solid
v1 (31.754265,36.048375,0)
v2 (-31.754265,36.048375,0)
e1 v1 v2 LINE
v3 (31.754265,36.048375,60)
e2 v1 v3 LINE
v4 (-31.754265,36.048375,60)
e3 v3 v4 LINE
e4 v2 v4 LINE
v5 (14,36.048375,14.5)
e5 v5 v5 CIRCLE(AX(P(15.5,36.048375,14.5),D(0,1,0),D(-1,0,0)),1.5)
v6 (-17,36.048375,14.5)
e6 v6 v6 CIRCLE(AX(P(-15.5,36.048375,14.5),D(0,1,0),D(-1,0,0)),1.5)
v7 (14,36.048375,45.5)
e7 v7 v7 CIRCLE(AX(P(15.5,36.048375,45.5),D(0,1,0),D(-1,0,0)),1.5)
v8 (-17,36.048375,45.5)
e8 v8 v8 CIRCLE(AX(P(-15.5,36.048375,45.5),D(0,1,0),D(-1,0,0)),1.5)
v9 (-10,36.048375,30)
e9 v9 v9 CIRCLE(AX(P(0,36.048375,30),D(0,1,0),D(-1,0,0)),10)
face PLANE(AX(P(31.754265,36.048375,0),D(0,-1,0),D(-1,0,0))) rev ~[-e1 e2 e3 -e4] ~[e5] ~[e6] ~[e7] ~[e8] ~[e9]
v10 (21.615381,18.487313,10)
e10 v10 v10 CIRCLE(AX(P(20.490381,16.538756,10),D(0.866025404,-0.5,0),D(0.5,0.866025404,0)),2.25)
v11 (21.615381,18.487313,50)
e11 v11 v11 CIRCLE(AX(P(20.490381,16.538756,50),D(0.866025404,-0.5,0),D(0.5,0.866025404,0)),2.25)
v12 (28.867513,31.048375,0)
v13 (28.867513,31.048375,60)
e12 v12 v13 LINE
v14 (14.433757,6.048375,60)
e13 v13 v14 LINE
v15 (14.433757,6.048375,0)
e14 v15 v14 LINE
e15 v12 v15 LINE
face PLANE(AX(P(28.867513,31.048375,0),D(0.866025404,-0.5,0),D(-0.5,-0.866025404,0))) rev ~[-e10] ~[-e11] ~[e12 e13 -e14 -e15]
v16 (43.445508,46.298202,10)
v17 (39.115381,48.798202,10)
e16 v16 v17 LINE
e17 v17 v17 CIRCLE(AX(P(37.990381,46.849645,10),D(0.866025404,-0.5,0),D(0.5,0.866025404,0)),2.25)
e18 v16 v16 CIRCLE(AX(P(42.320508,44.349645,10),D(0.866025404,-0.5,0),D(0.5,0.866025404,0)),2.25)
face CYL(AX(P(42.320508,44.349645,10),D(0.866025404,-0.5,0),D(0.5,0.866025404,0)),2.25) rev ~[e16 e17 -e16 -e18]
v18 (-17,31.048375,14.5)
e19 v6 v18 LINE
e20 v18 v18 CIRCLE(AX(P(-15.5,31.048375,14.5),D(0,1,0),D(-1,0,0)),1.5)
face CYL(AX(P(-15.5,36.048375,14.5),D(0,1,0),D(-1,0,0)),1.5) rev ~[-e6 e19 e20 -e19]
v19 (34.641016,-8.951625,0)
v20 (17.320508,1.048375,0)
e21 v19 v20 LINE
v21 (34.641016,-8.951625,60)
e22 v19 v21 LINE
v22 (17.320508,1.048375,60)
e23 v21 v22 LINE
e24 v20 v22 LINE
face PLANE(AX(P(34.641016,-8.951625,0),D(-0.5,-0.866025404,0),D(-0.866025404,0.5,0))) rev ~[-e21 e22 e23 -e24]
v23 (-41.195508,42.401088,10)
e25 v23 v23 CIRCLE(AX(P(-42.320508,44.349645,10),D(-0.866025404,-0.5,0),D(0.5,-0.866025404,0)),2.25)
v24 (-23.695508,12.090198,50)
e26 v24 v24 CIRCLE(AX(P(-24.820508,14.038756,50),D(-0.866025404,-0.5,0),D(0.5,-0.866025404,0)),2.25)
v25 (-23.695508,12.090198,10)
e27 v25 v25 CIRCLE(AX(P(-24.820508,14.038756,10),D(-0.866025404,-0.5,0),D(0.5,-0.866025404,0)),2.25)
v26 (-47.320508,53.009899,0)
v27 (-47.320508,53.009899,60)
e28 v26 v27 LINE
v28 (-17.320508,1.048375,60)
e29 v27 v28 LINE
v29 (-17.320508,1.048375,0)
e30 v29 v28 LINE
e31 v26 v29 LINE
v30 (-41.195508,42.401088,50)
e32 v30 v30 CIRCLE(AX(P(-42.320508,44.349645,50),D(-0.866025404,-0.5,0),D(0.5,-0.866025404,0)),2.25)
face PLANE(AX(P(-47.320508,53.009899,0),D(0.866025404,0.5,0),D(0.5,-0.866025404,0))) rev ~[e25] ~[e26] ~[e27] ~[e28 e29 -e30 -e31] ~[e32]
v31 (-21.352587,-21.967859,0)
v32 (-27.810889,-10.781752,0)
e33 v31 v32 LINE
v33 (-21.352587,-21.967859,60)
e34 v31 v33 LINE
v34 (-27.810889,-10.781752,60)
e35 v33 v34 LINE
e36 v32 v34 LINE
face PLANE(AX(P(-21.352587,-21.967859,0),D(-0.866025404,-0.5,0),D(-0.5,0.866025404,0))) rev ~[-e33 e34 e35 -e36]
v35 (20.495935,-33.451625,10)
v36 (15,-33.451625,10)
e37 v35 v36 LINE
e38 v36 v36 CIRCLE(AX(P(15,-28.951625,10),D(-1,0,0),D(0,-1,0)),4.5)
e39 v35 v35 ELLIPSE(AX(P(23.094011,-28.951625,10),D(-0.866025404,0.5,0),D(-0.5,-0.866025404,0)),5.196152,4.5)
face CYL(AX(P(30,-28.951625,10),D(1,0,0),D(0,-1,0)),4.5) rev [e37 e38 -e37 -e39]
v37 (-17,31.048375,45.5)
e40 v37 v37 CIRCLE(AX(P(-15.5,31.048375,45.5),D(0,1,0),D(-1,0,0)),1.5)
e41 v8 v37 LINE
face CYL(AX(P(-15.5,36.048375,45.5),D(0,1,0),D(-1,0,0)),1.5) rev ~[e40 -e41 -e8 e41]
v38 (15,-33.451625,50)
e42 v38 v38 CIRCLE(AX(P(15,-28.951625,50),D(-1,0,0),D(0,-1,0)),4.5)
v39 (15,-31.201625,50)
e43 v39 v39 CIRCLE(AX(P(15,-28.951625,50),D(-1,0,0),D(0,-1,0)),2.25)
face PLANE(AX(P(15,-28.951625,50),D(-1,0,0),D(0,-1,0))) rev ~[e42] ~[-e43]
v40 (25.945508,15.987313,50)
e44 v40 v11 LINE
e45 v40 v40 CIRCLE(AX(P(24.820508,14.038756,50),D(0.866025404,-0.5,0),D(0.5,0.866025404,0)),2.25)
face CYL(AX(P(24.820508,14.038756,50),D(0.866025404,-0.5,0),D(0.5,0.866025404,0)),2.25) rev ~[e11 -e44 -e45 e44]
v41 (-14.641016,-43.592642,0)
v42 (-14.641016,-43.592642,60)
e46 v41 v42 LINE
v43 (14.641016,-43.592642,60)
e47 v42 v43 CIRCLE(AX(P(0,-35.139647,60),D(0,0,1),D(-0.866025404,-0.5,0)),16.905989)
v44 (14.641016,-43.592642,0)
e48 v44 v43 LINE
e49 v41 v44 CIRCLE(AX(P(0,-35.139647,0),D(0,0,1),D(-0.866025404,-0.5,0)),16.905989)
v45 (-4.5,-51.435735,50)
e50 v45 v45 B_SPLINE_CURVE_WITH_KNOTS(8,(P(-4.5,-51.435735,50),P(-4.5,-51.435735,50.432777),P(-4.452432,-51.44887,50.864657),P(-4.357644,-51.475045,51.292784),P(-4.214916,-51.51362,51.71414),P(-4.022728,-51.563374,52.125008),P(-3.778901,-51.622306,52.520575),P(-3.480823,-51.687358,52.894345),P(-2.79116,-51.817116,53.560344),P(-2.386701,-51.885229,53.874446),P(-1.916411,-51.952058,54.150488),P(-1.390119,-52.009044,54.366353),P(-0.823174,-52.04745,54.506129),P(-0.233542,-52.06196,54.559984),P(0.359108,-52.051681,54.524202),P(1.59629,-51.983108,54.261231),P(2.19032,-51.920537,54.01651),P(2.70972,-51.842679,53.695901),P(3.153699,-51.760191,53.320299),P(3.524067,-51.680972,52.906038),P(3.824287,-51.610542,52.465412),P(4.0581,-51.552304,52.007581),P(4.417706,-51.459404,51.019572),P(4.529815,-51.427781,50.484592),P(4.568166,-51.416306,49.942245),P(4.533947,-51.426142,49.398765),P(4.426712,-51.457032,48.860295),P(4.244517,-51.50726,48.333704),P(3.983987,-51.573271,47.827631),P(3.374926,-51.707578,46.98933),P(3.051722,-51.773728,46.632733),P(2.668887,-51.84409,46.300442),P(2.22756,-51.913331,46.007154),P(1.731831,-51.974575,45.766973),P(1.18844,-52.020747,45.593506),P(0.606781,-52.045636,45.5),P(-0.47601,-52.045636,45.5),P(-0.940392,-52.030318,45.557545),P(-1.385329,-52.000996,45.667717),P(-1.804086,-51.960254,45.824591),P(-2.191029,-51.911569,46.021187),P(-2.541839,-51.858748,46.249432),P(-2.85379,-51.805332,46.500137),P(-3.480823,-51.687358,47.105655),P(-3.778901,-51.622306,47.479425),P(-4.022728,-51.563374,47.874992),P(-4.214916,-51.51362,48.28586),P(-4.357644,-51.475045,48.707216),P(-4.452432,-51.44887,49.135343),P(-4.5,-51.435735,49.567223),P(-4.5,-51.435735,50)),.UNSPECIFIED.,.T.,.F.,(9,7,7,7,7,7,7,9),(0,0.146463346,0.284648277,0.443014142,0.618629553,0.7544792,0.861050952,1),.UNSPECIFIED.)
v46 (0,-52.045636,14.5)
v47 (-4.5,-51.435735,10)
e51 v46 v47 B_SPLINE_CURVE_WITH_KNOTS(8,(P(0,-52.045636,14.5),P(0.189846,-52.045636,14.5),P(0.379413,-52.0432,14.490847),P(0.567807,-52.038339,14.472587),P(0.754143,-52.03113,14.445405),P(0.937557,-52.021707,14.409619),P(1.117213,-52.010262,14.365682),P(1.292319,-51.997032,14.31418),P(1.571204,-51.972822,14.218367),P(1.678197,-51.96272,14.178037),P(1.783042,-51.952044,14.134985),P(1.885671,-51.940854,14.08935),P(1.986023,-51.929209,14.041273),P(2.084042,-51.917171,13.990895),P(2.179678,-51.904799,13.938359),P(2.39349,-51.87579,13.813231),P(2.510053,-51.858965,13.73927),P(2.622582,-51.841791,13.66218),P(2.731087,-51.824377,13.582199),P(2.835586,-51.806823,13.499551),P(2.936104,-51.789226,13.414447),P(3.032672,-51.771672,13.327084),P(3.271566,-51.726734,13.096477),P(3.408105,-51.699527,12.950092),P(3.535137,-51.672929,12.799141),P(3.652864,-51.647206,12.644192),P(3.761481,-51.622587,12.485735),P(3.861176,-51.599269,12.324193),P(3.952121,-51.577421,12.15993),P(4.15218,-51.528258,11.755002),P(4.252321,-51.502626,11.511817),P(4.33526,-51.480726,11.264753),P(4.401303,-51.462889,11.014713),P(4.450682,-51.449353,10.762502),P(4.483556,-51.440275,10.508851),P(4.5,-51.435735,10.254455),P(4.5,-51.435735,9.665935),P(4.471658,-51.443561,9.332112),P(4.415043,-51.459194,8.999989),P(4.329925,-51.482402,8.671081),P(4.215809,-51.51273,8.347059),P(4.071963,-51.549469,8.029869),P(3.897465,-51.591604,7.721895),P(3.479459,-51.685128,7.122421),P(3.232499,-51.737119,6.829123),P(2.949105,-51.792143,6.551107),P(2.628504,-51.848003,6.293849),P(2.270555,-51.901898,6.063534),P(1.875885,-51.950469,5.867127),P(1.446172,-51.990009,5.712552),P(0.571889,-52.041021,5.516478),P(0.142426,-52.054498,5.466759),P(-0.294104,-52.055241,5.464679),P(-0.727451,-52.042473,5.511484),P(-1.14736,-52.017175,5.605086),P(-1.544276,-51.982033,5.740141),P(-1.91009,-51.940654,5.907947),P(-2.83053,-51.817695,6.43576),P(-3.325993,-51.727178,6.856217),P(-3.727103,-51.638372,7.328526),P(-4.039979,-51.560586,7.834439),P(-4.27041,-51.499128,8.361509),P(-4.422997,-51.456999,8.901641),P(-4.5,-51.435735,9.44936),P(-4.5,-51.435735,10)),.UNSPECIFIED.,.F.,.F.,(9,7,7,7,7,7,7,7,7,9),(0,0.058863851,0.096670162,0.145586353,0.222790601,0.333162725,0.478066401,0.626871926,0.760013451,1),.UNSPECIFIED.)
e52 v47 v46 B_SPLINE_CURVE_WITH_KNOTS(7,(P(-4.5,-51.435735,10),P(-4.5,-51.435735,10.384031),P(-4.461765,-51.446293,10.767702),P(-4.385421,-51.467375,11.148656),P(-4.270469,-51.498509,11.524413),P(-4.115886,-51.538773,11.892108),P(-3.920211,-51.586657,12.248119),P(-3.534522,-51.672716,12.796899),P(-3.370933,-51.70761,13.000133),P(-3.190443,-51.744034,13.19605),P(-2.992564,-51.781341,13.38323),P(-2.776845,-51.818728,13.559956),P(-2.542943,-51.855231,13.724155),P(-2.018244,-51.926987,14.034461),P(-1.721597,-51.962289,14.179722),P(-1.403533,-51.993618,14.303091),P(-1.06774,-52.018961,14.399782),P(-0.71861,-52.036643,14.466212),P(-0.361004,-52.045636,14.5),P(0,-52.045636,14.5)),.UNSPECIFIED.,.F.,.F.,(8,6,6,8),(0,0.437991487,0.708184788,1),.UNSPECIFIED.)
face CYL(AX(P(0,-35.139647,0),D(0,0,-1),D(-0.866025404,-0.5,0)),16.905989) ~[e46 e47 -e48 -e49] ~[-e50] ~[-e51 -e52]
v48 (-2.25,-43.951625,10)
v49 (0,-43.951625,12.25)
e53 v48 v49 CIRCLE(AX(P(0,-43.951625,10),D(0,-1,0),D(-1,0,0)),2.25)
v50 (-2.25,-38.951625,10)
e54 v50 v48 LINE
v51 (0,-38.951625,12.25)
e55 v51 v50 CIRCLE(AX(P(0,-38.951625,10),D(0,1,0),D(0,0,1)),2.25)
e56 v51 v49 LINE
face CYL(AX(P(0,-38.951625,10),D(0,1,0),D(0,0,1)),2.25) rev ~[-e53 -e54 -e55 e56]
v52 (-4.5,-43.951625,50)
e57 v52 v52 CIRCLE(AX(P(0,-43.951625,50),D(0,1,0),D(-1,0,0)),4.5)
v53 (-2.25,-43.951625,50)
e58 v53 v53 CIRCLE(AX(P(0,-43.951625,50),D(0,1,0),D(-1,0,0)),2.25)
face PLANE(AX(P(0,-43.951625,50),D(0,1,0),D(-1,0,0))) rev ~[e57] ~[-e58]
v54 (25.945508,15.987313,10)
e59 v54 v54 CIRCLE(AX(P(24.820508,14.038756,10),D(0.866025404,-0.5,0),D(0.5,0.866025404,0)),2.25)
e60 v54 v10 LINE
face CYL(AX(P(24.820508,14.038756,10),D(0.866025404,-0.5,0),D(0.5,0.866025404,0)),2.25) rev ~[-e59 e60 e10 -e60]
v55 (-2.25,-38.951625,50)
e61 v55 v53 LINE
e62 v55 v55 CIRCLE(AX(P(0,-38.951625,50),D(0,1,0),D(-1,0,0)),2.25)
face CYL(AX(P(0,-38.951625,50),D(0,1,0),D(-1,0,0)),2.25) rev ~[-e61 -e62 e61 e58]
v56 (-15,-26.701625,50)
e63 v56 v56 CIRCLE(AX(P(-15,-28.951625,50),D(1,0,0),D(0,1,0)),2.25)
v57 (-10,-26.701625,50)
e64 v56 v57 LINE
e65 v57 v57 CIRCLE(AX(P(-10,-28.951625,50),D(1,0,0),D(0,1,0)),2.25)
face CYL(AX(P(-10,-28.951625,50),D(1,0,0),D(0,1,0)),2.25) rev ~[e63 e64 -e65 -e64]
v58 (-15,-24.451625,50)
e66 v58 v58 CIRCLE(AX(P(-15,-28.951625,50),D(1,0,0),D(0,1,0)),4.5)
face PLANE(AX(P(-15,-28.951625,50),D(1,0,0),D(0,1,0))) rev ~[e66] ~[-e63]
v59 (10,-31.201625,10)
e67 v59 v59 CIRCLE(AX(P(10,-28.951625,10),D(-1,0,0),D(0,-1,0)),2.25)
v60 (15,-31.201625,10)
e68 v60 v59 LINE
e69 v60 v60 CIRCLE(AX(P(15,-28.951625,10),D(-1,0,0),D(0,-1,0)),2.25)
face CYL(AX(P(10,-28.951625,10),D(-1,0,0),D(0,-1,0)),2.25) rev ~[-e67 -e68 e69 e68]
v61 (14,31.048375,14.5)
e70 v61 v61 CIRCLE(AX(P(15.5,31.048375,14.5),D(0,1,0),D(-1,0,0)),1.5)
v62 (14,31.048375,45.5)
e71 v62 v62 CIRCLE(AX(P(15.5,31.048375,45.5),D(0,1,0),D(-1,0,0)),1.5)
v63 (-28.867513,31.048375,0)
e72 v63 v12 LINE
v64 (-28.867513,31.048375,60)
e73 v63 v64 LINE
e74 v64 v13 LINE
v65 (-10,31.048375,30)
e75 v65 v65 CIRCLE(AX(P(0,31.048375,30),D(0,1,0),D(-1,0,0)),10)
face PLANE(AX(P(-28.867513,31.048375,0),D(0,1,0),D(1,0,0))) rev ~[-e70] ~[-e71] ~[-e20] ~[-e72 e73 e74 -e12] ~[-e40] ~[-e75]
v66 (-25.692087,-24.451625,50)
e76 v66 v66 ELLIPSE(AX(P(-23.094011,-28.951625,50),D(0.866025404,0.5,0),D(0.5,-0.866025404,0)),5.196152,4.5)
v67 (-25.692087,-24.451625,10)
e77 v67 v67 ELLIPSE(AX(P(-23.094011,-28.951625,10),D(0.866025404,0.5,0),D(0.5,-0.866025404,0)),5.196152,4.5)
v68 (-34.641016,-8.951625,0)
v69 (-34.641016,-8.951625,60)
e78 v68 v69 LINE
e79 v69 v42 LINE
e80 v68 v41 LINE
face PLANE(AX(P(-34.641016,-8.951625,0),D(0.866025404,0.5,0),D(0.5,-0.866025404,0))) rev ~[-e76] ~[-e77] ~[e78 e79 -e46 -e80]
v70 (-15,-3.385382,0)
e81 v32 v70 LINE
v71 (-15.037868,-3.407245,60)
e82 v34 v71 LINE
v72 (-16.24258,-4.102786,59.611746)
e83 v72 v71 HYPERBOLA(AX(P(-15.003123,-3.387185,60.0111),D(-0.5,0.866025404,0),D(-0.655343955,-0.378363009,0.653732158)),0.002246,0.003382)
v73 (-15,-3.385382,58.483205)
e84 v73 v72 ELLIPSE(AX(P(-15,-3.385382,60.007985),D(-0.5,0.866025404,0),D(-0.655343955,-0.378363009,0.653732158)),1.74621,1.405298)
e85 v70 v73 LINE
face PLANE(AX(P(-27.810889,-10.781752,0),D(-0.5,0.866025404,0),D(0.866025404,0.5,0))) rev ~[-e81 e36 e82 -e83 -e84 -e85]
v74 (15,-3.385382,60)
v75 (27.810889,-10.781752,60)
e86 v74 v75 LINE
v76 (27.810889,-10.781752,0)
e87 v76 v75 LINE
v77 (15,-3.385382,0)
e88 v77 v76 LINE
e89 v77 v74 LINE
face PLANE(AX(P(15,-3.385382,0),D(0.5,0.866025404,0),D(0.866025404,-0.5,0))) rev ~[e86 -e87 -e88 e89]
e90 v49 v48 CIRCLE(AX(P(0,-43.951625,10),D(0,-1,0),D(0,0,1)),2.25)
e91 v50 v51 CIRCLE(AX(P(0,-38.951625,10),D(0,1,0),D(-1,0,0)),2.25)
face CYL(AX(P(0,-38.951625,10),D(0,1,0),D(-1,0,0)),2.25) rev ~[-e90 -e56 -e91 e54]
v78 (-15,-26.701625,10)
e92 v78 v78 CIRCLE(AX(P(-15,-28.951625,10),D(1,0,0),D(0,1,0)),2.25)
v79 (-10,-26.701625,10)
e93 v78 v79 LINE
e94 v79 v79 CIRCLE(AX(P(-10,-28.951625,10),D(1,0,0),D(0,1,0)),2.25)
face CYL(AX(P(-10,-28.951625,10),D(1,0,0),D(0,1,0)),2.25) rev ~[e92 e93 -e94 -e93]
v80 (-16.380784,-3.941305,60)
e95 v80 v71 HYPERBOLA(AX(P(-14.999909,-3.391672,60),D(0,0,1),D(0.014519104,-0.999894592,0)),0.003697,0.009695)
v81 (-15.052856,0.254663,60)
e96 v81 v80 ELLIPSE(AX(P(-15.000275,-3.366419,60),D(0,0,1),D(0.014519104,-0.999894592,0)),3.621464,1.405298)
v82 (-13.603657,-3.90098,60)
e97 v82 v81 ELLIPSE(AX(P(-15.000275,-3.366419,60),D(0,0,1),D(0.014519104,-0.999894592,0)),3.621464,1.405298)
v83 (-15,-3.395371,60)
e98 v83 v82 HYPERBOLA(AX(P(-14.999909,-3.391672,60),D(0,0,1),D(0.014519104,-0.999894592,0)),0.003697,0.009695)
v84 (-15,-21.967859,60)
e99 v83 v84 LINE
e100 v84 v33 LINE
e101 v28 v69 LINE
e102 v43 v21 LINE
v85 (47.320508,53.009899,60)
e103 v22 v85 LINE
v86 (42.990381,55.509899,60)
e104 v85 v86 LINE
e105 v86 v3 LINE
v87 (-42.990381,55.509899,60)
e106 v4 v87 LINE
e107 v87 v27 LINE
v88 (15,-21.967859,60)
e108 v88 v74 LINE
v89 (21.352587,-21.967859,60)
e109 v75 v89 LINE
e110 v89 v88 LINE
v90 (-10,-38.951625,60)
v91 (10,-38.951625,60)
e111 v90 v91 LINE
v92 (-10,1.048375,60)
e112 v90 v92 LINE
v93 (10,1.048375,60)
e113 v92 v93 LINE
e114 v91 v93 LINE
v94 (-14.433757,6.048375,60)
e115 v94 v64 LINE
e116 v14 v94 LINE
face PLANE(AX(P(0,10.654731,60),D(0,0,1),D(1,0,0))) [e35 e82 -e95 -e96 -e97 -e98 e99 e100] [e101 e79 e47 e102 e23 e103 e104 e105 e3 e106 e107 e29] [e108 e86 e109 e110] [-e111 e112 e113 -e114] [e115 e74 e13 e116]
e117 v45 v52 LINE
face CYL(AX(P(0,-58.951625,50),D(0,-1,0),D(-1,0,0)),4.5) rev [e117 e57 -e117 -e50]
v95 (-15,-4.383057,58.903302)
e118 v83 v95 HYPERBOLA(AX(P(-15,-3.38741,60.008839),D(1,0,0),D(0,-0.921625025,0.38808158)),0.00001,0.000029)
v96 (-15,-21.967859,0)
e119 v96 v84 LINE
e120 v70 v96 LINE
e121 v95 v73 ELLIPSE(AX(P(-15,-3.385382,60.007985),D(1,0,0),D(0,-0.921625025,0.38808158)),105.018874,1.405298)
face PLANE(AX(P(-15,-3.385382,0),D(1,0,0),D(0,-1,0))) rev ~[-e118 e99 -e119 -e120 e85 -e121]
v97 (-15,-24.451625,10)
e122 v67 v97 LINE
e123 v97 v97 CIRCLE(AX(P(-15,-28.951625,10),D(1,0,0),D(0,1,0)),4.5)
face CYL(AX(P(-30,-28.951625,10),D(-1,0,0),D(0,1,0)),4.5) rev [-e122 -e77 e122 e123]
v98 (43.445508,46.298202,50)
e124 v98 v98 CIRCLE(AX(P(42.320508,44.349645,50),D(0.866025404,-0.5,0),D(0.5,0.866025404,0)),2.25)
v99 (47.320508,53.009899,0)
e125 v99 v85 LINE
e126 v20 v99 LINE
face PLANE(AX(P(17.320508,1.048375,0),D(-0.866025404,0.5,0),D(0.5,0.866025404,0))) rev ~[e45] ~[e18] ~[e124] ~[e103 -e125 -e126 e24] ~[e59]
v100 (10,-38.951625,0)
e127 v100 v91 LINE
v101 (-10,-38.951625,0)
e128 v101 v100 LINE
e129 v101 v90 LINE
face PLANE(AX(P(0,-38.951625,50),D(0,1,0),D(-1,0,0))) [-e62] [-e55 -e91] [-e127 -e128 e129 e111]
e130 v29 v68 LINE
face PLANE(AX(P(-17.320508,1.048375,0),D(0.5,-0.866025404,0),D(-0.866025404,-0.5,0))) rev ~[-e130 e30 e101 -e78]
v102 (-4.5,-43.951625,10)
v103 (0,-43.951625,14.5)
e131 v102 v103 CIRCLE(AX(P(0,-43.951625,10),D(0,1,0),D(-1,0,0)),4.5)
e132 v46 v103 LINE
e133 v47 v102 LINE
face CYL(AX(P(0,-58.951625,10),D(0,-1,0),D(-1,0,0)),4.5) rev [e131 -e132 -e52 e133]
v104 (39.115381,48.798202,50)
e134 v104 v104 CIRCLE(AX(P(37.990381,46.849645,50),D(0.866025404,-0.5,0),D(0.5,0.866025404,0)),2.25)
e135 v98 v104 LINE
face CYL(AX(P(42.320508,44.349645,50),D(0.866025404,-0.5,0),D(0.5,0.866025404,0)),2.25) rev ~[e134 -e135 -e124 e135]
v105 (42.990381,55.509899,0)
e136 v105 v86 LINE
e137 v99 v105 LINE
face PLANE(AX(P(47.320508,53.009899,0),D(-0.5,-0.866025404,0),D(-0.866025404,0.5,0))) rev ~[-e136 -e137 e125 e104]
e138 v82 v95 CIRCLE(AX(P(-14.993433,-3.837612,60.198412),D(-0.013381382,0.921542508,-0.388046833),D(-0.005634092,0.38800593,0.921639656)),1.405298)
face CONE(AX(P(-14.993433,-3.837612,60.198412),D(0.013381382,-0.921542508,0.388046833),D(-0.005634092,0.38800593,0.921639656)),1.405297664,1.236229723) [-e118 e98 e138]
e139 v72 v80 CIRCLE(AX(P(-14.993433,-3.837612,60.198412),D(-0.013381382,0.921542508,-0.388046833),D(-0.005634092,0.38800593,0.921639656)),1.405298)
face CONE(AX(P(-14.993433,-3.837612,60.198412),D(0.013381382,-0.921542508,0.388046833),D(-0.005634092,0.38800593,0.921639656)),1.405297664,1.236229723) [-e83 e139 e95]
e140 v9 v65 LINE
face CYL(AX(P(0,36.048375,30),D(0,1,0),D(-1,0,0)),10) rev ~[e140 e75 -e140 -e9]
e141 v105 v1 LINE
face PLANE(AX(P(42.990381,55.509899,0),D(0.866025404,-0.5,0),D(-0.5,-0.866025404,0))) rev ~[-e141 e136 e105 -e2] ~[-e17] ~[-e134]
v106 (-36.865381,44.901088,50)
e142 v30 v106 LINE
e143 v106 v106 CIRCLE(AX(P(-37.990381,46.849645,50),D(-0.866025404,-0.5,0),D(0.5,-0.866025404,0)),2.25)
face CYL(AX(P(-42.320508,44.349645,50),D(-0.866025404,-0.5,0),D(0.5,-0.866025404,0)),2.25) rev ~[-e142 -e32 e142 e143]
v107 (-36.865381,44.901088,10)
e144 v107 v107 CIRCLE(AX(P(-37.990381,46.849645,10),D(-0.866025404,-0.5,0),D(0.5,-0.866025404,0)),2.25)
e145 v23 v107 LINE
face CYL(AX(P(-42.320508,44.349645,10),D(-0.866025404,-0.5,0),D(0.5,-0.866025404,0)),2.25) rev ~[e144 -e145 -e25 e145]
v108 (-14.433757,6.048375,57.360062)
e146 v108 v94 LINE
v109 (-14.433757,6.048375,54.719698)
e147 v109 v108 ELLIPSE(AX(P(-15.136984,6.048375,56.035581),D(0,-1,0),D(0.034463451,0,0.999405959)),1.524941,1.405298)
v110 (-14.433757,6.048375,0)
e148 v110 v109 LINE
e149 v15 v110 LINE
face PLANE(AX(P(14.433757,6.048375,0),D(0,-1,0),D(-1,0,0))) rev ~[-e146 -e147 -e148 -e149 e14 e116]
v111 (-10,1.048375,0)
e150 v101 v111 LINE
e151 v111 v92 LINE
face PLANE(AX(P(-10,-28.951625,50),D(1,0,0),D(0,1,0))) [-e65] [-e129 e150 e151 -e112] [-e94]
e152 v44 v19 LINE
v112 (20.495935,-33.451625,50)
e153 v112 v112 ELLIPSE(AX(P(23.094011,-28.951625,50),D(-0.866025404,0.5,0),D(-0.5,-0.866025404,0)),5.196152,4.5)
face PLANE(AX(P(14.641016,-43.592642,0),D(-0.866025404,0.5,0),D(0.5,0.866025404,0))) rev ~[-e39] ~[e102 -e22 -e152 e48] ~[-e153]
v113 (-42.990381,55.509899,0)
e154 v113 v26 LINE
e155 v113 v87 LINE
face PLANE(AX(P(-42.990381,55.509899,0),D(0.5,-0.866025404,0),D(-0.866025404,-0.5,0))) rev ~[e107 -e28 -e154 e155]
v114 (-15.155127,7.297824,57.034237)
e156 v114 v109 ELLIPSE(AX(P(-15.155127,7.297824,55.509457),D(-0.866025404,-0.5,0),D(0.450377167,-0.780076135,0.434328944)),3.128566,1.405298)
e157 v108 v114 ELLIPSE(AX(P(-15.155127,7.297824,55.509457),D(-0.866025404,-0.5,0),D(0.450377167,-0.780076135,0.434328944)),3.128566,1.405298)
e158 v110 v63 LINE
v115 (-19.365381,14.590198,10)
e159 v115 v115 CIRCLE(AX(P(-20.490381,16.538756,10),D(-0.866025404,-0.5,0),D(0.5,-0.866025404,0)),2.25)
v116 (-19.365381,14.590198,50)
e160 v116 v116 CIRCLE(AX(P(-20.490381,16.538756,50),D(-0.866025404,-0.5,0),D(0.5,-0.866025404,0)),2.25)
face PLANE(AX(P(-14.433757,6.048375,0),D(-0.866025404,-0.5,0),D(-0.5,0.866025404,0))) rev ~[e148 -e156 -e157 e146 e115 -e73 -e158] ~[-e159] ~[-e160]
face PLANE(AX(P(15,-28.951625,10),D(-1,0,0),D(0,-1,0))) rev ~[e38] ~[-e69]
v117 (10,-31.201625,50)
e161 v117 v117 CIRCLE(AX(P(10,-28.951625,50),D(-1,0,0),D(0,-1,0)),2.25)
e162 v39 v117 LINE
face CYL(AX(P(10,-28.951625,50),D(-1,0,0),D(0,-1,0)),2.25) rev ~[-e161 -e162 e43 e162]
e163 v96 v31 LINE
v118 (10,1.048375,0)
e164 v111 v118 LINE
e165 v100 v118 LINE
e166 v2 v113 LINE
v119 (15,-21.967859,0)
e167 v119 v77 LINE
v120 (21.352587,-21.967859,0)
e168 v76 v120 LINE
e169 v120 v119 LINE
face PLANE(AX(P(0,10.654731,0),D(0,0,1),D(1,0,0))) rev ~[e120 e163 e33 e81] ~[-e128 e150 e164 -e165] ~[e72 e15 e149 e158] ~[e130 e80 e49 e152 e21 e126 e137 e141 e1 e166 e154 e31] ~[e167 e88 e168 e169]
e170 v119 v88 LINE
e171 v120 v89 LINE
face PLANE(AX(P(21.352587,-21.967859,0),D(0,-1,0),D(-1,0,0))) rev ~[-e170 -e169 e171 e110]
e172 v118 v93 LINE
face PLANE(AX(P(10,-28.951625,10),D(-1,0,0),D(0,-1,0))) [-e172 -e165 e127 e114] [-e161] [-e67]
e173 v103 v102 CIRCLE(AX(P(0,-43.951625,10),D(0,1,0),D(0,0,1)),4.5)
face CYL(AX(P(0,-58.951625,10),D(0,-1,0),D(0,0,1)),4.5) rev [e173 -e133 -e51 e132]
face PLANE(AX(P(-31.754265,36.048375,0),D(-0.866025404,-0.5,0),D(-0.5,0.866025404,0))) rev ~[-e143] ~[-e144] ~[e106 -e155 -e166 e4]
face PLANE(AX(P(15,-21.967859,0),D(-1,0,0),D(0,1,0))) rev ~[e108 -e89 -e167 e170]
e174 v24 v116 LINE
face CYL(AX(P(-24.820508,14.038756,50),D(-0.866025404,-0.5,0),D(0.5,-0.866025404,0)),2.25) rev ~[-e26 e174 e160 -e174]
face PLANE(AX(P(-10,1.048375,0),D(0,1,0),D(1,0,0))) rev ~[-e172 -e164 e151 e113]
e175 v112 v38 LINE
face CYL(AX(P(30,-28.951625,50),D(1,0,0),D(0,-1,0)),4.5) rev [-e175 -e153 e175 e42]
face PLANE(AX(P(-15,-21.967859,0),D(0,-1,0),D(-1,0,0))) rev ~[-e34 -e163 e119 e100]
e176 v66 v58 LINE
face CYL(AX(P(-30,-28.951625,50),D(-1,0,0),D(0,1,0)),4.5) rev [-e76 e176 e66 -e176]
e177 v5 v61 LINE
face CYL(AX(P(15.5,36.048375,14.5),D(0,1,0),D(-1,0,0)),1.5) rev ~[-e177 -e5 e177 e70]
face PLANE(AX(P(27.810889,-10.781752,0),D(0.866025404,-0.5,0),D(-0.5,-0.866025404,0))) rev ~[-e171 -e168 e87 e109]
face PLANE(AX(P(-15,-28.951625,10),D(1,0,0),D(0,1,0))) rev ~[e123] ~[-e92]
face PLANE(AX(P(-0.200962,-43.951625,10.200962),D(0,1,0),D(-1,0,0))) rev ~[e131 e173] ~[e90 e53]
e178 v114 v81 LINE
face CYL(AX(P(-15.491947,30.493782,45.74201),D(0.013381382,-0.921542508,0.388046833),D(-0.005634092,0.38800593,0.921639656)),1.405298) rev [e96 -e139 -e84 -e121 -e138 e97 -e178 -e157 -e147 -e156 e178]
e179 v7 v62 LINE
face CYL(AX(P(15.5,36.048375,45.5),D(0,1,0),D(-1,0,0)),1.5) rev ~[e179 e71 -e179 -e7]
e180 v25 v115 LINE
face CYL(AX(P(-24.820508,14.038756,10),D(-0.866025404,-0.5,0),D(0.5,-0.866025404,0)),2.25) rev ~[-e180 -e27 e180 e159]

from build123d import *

# Parameters (mm, degrees)
F0_W      = 20
F0_H      = 40
F1_DEPTH  = 60
F2_R      = 1.5
F2_R_2    = 10
F3_DEPTH  = 6
F4_R      = 2.25
F5_DEPTH  = 6
F6_R      = 2.25
F7_DEPTH  = 6
F9_R      = 4.5
F9_R_2    = 2.25
F11_DEPTH = 20
F10_R     = 4.5
F10_R_2   = 2.25
F12_DEPTH = 20
F8_R      = 4.5
F8_R_2    = 2.25
F13_DEPTH = 20
F14_DEPTH = 25
F15_DEPTH = 25
F16_DEPTH = 25
F17_DEPTH = 15
F18_DEPTH = 15
F19_DEPTH = 15


with BuildPart() as f1:
    # F0 (on Top) → F1 (new body)
    with BuildSketch(Plane.XY):
        with BuildLine():
            Line((47.3205080757, 53.0098987629), (42.9903810568, 55.5098987629))
            Line((42.9903810568, 55.5098987629), (31.7542648054, 36.0483745358))
            Line((31.7542648054, 36.0483745358), (-31.7542648054, 36.0483745358))
            Line((-31.7542648054, 36.0483745358), (-42.9903810568, 55.5098987629))
            Line((-42.9903810568, 55.5098987629), (-47.3205080757, 53.0098987629))
            Line((-47.3205080757, 53.0098987629), (-17.3205080757, 1.0483745358))
            Line((-17.3205080757, 1.0483745358), (-34.6410161514, -8.9516254642))
            Line((-34.6410161514, -8.9516254642), (-14.6410161514, -43.5926416156))
            ThreePointArc((-14.6410161514, -43.5926416156), (0, -52.0456362318), (14.6410161514, -43.5926416156))
            Line((14.6410161514, -43.5926416156), (34.6410161514, -8.9516254642))
            Line((34.6410161514, -8.9516254642), (17.3205080757, 1.0483745358))
            Line((17.3205080757, 1.0483745358), (47.3205080757, 53.0098987629))
        make_face()
        Polygon((-15, -3.3853821939), (-15, -9.7067520427), (-15, -21.9678594557), (-21.3525872607, -21.9678594557), (-27.8108891325, -10.7817524831), align=None, mode=Mode.SUBTRACT)
        with Locations((0, -18.9516254642)):
            Rectangle(F0_W, F0_H, mode=Mode.SUBTRACT)
        Polygon((15, -21.9678594557), (15, -4.4697315388), (15, -3.3853821939), (27.8108891325, -10.7817524831), (21.3525872607, -21.9678594557), align=None, mode=Mode.SUBTRACT)
        Polygon((28.8675134595, 31.0483745358), (14.4337567297, 6.0483745358), (-14.4337567297, 6.0483745358), (-28.8675134595, 31.0483745358), align=None, mode=Mode.SUBTRACT)
    extrude(amount=F1_DEPTH)

    # F2 (on face) → F3 (cut)
    with BuildSketch(Plane(origin=(0, 36.0483745358, 0), x_dir=(-1, 0, 0), z_dir=(0, 1, 0))):
        with Locations((-15.5, 45.5)):
            Circle(F2_R)
        with Locations((15.5, 45.5)):
            Circle(F2_R)
        with Locations((15.5, 14.5)):
            Circle(F2_R)
        with Locations((-15.5, 14.5)):
            Circle(F2_R)
        with Locations((0, 30)):
            Circle(F2_R_2)
    extrude(amount=-F3_DEPTH, mode=Mode.SUBTRACT)

    # F4 (on face) → F5 (cut)
    with BuildSketch(Plane(origin=(-12.5364215664, -7.237906366, 0), x_dir=(0.5, -0.8660254038, 0), z_dir=(-0.8660254038, -0.5, 0))):
        with Locations((-24.5681730185, 50)):
            Circle(F4_R)
        with Locations((-59.5681730185, 50)):
            Circle(F4_R)
        with Locations((-59.5681730185, 10)):
            Circle(F4_R)
        with Locations((-24.5681730185, 10)):
            Circle(F4_R)
    extrude(amount=-F5_DEPTH, mode=Mode.SUBTRACT)

    # F6 (on face) → F7 (cut)
    with BuildSketch(Plane(origin=(12.5364215664, -7.237906366, 0), x_dir=(0.5, 0.8660254038, 0), z_dir=(0.8660254038, -0.5, 0))):
        with Locations((24.5681730185, 50)):
            Circle(F6_R)
        with Locations((59.5681730185, 50)):
            Circle(F6_R)
        with Locations((59.5681730185, 10)):
            Circle(F6_R)
        with Locations((24.5681730185, 10)):
            Circle(F6_R)
    extrude(amount=-F7_DEPTH, mode=Mode.SUBTRACT)

    # F9 (on face) → F11 (join)
    with BuildSketch(Plane.YZ.offset(-10)):
        with Locations((-28.9516254642, 50)):
            Circle(F9_R)
        with Locations((-28.9516254642, 50)):
            Circle(F9_R_2, mode=Mode.SUBTRACT)
        with Locations((-28.9516254642, 10)):
            Circle(F9_R)
        with Locations((-28.9516254642, 10)):
            Circle(F9_R_2, mode=Mode.SUBTRACT)
    extrude(amount=-F11_DEPTH)

    # F10 (on face) → F12 (join)
    with BuildSketch(Plane(origin=(10, 0, 0), x_dir=(0, -1, 0), z_dir=(-1, 0, 0))):
        with Locations((28.9516254642, 10)):
            Circle(F10_R)
        with Locations((28.9516254642, 10)):
            Circle(F10_R_2, mode=Mode.SUBTRACT)
        with Locations((28.9516254642, 50)):
            Circle(F10_R)
        with Locations((28.9516254642, 50)):
            Circle(F10_R_2, mode=Mode.SUBTRACT)
    extrude(amount=-F12_DEPTH)

    # F8 (on face) → F13 (join)
    with BuildSketch(Plane(origin=(0, -38.9516254642, 0), x_dir=(-1, 0, 0), z_dir=(0, 1, 0))):
        with Locations((0, 50)):
            Circle(F8_R)
        with Locations((0, 50)):
            Circle(F8_R_2, mode=Mode.SUBTRACT)
        with BuildLine():
            ThreePointArc((4.5, 10), (3.1819805153, 13.1819805153), (0, 14.5))
            ThreePointArc((0, 14.5), (-3.1819805153, 6.8180194847), (4.5, 10))
        make_face()
        with BuildLine():
            ThreePointArc((0, 12.25), (1.5909902577, 11.5909902577), (2.25, 10))
            ThreePointArc((2.25, 10), (-1.5909902577, 8.4090097423), (0, 12.25))
        make_face(mode=Mode.SUBTRACT)
    extrude(amount=-F13_DEPTH)

    # F10 (on face) → F14 (cut)
    with BuildSketch(Plane(origin=(10, 0, 0), x_dir=(0, -1, 0), z_dir=(-1, 0, 0))):
        with Locations((28.9516254642, 10)):
            Circle(F10_R_2)
        with Locations((28.9516254642, 50)):
            Circle(F10_R_2)
    extrude(amount=-F14_DEPTH, mode=Mode.SUBTRACT)

    # F9 (on face) → F15 (cut)
    with BuildSketch(Plane.YZ.offset(-10)):
        with Locations((-28.9516254642, 50)):
            Circle(F9_R_2)
        with Locations((-28.9516254642, 10)):
            Circle(F9_R_2)
    extrude(amount=-F15_DEPTH, mode=Mode.SUBTRACT)

    # F8 (on face) → F16 (cut)
    with BuildSketch(Plane(origin=(0, -38.9516254642, 0), x_dir=(-1, 0, 0), z_dir=(0, 1, 0))):
        with Locations((0, 50)):
            Circle(F8_R_2)
        with BuildLine():
            ThreePointArc((0, 12.25), (-1.5909902577, 8.4090097423), (2.25, 10))
            ThreePointArc((2.25, 10), (1.5909902577, 11.5909902577), (0, 12.25))
        make_face()
    extrude(amount=-F16_DEPTH, mode=Mode.SUBTRACT)

    # F17 (cut): faces of the model
    f17_faces = [f1.faces().sort_by_distance(p)[0] for p in [
        (4.3727207794, -58.9516254642, 10),
        (4.3727207794, -58.9516254642, 50),
    ]]
    extrude(f17_faces, amount=-F17_DEPTH, mode=Mode.SUBTRACT)

    # F18 (cut): faces of the model
    f18_faces = [f1.faces().sort_by_distance(p)[0] for p in [
        (30, -24.5789046848, 50),
        (30, -24.5789046848, 10),
    ]]
    extrude(f18_faces, amount=-F18_DEPTH, mode=Mode.SUBTRACT)

    # F19 (cut): faces of the model
    f19_faces = [f1.faces().sort_by_distance(p)[0] for p in [
        (-30, -33.3243462436, 10),
        (-30, -33.3243462436, 50),
    ]]
    extrude(f19_faces, amount=-F19_DEPTH, mode=Mode.SUBTRACT)

    # F22 (on 3pt) → F23 (revolve, cut)
    with BuildSketch(Plane(origin=(-15.0459854695, -0.2184772575, 0), x_dir=(-0.014519104, 0.9998945923, 0), z_dir=(0.9998945923, 0.014519104, 0))):
        Polygon((-3.0741950031, 61.4935897481), (-3.1692667399, 60.0088387728), (31.260818243, 45.5124080181), (31.260818243, 47.0371879637), align=None)
    revolve(axis=Axis((-15.2499175488, 13.8258179605, 52.7606233954), (-0.013381382, 0.9215425078, -0.3880468334)), mode=Mode.SUBTRACT)


solid = f1.part
